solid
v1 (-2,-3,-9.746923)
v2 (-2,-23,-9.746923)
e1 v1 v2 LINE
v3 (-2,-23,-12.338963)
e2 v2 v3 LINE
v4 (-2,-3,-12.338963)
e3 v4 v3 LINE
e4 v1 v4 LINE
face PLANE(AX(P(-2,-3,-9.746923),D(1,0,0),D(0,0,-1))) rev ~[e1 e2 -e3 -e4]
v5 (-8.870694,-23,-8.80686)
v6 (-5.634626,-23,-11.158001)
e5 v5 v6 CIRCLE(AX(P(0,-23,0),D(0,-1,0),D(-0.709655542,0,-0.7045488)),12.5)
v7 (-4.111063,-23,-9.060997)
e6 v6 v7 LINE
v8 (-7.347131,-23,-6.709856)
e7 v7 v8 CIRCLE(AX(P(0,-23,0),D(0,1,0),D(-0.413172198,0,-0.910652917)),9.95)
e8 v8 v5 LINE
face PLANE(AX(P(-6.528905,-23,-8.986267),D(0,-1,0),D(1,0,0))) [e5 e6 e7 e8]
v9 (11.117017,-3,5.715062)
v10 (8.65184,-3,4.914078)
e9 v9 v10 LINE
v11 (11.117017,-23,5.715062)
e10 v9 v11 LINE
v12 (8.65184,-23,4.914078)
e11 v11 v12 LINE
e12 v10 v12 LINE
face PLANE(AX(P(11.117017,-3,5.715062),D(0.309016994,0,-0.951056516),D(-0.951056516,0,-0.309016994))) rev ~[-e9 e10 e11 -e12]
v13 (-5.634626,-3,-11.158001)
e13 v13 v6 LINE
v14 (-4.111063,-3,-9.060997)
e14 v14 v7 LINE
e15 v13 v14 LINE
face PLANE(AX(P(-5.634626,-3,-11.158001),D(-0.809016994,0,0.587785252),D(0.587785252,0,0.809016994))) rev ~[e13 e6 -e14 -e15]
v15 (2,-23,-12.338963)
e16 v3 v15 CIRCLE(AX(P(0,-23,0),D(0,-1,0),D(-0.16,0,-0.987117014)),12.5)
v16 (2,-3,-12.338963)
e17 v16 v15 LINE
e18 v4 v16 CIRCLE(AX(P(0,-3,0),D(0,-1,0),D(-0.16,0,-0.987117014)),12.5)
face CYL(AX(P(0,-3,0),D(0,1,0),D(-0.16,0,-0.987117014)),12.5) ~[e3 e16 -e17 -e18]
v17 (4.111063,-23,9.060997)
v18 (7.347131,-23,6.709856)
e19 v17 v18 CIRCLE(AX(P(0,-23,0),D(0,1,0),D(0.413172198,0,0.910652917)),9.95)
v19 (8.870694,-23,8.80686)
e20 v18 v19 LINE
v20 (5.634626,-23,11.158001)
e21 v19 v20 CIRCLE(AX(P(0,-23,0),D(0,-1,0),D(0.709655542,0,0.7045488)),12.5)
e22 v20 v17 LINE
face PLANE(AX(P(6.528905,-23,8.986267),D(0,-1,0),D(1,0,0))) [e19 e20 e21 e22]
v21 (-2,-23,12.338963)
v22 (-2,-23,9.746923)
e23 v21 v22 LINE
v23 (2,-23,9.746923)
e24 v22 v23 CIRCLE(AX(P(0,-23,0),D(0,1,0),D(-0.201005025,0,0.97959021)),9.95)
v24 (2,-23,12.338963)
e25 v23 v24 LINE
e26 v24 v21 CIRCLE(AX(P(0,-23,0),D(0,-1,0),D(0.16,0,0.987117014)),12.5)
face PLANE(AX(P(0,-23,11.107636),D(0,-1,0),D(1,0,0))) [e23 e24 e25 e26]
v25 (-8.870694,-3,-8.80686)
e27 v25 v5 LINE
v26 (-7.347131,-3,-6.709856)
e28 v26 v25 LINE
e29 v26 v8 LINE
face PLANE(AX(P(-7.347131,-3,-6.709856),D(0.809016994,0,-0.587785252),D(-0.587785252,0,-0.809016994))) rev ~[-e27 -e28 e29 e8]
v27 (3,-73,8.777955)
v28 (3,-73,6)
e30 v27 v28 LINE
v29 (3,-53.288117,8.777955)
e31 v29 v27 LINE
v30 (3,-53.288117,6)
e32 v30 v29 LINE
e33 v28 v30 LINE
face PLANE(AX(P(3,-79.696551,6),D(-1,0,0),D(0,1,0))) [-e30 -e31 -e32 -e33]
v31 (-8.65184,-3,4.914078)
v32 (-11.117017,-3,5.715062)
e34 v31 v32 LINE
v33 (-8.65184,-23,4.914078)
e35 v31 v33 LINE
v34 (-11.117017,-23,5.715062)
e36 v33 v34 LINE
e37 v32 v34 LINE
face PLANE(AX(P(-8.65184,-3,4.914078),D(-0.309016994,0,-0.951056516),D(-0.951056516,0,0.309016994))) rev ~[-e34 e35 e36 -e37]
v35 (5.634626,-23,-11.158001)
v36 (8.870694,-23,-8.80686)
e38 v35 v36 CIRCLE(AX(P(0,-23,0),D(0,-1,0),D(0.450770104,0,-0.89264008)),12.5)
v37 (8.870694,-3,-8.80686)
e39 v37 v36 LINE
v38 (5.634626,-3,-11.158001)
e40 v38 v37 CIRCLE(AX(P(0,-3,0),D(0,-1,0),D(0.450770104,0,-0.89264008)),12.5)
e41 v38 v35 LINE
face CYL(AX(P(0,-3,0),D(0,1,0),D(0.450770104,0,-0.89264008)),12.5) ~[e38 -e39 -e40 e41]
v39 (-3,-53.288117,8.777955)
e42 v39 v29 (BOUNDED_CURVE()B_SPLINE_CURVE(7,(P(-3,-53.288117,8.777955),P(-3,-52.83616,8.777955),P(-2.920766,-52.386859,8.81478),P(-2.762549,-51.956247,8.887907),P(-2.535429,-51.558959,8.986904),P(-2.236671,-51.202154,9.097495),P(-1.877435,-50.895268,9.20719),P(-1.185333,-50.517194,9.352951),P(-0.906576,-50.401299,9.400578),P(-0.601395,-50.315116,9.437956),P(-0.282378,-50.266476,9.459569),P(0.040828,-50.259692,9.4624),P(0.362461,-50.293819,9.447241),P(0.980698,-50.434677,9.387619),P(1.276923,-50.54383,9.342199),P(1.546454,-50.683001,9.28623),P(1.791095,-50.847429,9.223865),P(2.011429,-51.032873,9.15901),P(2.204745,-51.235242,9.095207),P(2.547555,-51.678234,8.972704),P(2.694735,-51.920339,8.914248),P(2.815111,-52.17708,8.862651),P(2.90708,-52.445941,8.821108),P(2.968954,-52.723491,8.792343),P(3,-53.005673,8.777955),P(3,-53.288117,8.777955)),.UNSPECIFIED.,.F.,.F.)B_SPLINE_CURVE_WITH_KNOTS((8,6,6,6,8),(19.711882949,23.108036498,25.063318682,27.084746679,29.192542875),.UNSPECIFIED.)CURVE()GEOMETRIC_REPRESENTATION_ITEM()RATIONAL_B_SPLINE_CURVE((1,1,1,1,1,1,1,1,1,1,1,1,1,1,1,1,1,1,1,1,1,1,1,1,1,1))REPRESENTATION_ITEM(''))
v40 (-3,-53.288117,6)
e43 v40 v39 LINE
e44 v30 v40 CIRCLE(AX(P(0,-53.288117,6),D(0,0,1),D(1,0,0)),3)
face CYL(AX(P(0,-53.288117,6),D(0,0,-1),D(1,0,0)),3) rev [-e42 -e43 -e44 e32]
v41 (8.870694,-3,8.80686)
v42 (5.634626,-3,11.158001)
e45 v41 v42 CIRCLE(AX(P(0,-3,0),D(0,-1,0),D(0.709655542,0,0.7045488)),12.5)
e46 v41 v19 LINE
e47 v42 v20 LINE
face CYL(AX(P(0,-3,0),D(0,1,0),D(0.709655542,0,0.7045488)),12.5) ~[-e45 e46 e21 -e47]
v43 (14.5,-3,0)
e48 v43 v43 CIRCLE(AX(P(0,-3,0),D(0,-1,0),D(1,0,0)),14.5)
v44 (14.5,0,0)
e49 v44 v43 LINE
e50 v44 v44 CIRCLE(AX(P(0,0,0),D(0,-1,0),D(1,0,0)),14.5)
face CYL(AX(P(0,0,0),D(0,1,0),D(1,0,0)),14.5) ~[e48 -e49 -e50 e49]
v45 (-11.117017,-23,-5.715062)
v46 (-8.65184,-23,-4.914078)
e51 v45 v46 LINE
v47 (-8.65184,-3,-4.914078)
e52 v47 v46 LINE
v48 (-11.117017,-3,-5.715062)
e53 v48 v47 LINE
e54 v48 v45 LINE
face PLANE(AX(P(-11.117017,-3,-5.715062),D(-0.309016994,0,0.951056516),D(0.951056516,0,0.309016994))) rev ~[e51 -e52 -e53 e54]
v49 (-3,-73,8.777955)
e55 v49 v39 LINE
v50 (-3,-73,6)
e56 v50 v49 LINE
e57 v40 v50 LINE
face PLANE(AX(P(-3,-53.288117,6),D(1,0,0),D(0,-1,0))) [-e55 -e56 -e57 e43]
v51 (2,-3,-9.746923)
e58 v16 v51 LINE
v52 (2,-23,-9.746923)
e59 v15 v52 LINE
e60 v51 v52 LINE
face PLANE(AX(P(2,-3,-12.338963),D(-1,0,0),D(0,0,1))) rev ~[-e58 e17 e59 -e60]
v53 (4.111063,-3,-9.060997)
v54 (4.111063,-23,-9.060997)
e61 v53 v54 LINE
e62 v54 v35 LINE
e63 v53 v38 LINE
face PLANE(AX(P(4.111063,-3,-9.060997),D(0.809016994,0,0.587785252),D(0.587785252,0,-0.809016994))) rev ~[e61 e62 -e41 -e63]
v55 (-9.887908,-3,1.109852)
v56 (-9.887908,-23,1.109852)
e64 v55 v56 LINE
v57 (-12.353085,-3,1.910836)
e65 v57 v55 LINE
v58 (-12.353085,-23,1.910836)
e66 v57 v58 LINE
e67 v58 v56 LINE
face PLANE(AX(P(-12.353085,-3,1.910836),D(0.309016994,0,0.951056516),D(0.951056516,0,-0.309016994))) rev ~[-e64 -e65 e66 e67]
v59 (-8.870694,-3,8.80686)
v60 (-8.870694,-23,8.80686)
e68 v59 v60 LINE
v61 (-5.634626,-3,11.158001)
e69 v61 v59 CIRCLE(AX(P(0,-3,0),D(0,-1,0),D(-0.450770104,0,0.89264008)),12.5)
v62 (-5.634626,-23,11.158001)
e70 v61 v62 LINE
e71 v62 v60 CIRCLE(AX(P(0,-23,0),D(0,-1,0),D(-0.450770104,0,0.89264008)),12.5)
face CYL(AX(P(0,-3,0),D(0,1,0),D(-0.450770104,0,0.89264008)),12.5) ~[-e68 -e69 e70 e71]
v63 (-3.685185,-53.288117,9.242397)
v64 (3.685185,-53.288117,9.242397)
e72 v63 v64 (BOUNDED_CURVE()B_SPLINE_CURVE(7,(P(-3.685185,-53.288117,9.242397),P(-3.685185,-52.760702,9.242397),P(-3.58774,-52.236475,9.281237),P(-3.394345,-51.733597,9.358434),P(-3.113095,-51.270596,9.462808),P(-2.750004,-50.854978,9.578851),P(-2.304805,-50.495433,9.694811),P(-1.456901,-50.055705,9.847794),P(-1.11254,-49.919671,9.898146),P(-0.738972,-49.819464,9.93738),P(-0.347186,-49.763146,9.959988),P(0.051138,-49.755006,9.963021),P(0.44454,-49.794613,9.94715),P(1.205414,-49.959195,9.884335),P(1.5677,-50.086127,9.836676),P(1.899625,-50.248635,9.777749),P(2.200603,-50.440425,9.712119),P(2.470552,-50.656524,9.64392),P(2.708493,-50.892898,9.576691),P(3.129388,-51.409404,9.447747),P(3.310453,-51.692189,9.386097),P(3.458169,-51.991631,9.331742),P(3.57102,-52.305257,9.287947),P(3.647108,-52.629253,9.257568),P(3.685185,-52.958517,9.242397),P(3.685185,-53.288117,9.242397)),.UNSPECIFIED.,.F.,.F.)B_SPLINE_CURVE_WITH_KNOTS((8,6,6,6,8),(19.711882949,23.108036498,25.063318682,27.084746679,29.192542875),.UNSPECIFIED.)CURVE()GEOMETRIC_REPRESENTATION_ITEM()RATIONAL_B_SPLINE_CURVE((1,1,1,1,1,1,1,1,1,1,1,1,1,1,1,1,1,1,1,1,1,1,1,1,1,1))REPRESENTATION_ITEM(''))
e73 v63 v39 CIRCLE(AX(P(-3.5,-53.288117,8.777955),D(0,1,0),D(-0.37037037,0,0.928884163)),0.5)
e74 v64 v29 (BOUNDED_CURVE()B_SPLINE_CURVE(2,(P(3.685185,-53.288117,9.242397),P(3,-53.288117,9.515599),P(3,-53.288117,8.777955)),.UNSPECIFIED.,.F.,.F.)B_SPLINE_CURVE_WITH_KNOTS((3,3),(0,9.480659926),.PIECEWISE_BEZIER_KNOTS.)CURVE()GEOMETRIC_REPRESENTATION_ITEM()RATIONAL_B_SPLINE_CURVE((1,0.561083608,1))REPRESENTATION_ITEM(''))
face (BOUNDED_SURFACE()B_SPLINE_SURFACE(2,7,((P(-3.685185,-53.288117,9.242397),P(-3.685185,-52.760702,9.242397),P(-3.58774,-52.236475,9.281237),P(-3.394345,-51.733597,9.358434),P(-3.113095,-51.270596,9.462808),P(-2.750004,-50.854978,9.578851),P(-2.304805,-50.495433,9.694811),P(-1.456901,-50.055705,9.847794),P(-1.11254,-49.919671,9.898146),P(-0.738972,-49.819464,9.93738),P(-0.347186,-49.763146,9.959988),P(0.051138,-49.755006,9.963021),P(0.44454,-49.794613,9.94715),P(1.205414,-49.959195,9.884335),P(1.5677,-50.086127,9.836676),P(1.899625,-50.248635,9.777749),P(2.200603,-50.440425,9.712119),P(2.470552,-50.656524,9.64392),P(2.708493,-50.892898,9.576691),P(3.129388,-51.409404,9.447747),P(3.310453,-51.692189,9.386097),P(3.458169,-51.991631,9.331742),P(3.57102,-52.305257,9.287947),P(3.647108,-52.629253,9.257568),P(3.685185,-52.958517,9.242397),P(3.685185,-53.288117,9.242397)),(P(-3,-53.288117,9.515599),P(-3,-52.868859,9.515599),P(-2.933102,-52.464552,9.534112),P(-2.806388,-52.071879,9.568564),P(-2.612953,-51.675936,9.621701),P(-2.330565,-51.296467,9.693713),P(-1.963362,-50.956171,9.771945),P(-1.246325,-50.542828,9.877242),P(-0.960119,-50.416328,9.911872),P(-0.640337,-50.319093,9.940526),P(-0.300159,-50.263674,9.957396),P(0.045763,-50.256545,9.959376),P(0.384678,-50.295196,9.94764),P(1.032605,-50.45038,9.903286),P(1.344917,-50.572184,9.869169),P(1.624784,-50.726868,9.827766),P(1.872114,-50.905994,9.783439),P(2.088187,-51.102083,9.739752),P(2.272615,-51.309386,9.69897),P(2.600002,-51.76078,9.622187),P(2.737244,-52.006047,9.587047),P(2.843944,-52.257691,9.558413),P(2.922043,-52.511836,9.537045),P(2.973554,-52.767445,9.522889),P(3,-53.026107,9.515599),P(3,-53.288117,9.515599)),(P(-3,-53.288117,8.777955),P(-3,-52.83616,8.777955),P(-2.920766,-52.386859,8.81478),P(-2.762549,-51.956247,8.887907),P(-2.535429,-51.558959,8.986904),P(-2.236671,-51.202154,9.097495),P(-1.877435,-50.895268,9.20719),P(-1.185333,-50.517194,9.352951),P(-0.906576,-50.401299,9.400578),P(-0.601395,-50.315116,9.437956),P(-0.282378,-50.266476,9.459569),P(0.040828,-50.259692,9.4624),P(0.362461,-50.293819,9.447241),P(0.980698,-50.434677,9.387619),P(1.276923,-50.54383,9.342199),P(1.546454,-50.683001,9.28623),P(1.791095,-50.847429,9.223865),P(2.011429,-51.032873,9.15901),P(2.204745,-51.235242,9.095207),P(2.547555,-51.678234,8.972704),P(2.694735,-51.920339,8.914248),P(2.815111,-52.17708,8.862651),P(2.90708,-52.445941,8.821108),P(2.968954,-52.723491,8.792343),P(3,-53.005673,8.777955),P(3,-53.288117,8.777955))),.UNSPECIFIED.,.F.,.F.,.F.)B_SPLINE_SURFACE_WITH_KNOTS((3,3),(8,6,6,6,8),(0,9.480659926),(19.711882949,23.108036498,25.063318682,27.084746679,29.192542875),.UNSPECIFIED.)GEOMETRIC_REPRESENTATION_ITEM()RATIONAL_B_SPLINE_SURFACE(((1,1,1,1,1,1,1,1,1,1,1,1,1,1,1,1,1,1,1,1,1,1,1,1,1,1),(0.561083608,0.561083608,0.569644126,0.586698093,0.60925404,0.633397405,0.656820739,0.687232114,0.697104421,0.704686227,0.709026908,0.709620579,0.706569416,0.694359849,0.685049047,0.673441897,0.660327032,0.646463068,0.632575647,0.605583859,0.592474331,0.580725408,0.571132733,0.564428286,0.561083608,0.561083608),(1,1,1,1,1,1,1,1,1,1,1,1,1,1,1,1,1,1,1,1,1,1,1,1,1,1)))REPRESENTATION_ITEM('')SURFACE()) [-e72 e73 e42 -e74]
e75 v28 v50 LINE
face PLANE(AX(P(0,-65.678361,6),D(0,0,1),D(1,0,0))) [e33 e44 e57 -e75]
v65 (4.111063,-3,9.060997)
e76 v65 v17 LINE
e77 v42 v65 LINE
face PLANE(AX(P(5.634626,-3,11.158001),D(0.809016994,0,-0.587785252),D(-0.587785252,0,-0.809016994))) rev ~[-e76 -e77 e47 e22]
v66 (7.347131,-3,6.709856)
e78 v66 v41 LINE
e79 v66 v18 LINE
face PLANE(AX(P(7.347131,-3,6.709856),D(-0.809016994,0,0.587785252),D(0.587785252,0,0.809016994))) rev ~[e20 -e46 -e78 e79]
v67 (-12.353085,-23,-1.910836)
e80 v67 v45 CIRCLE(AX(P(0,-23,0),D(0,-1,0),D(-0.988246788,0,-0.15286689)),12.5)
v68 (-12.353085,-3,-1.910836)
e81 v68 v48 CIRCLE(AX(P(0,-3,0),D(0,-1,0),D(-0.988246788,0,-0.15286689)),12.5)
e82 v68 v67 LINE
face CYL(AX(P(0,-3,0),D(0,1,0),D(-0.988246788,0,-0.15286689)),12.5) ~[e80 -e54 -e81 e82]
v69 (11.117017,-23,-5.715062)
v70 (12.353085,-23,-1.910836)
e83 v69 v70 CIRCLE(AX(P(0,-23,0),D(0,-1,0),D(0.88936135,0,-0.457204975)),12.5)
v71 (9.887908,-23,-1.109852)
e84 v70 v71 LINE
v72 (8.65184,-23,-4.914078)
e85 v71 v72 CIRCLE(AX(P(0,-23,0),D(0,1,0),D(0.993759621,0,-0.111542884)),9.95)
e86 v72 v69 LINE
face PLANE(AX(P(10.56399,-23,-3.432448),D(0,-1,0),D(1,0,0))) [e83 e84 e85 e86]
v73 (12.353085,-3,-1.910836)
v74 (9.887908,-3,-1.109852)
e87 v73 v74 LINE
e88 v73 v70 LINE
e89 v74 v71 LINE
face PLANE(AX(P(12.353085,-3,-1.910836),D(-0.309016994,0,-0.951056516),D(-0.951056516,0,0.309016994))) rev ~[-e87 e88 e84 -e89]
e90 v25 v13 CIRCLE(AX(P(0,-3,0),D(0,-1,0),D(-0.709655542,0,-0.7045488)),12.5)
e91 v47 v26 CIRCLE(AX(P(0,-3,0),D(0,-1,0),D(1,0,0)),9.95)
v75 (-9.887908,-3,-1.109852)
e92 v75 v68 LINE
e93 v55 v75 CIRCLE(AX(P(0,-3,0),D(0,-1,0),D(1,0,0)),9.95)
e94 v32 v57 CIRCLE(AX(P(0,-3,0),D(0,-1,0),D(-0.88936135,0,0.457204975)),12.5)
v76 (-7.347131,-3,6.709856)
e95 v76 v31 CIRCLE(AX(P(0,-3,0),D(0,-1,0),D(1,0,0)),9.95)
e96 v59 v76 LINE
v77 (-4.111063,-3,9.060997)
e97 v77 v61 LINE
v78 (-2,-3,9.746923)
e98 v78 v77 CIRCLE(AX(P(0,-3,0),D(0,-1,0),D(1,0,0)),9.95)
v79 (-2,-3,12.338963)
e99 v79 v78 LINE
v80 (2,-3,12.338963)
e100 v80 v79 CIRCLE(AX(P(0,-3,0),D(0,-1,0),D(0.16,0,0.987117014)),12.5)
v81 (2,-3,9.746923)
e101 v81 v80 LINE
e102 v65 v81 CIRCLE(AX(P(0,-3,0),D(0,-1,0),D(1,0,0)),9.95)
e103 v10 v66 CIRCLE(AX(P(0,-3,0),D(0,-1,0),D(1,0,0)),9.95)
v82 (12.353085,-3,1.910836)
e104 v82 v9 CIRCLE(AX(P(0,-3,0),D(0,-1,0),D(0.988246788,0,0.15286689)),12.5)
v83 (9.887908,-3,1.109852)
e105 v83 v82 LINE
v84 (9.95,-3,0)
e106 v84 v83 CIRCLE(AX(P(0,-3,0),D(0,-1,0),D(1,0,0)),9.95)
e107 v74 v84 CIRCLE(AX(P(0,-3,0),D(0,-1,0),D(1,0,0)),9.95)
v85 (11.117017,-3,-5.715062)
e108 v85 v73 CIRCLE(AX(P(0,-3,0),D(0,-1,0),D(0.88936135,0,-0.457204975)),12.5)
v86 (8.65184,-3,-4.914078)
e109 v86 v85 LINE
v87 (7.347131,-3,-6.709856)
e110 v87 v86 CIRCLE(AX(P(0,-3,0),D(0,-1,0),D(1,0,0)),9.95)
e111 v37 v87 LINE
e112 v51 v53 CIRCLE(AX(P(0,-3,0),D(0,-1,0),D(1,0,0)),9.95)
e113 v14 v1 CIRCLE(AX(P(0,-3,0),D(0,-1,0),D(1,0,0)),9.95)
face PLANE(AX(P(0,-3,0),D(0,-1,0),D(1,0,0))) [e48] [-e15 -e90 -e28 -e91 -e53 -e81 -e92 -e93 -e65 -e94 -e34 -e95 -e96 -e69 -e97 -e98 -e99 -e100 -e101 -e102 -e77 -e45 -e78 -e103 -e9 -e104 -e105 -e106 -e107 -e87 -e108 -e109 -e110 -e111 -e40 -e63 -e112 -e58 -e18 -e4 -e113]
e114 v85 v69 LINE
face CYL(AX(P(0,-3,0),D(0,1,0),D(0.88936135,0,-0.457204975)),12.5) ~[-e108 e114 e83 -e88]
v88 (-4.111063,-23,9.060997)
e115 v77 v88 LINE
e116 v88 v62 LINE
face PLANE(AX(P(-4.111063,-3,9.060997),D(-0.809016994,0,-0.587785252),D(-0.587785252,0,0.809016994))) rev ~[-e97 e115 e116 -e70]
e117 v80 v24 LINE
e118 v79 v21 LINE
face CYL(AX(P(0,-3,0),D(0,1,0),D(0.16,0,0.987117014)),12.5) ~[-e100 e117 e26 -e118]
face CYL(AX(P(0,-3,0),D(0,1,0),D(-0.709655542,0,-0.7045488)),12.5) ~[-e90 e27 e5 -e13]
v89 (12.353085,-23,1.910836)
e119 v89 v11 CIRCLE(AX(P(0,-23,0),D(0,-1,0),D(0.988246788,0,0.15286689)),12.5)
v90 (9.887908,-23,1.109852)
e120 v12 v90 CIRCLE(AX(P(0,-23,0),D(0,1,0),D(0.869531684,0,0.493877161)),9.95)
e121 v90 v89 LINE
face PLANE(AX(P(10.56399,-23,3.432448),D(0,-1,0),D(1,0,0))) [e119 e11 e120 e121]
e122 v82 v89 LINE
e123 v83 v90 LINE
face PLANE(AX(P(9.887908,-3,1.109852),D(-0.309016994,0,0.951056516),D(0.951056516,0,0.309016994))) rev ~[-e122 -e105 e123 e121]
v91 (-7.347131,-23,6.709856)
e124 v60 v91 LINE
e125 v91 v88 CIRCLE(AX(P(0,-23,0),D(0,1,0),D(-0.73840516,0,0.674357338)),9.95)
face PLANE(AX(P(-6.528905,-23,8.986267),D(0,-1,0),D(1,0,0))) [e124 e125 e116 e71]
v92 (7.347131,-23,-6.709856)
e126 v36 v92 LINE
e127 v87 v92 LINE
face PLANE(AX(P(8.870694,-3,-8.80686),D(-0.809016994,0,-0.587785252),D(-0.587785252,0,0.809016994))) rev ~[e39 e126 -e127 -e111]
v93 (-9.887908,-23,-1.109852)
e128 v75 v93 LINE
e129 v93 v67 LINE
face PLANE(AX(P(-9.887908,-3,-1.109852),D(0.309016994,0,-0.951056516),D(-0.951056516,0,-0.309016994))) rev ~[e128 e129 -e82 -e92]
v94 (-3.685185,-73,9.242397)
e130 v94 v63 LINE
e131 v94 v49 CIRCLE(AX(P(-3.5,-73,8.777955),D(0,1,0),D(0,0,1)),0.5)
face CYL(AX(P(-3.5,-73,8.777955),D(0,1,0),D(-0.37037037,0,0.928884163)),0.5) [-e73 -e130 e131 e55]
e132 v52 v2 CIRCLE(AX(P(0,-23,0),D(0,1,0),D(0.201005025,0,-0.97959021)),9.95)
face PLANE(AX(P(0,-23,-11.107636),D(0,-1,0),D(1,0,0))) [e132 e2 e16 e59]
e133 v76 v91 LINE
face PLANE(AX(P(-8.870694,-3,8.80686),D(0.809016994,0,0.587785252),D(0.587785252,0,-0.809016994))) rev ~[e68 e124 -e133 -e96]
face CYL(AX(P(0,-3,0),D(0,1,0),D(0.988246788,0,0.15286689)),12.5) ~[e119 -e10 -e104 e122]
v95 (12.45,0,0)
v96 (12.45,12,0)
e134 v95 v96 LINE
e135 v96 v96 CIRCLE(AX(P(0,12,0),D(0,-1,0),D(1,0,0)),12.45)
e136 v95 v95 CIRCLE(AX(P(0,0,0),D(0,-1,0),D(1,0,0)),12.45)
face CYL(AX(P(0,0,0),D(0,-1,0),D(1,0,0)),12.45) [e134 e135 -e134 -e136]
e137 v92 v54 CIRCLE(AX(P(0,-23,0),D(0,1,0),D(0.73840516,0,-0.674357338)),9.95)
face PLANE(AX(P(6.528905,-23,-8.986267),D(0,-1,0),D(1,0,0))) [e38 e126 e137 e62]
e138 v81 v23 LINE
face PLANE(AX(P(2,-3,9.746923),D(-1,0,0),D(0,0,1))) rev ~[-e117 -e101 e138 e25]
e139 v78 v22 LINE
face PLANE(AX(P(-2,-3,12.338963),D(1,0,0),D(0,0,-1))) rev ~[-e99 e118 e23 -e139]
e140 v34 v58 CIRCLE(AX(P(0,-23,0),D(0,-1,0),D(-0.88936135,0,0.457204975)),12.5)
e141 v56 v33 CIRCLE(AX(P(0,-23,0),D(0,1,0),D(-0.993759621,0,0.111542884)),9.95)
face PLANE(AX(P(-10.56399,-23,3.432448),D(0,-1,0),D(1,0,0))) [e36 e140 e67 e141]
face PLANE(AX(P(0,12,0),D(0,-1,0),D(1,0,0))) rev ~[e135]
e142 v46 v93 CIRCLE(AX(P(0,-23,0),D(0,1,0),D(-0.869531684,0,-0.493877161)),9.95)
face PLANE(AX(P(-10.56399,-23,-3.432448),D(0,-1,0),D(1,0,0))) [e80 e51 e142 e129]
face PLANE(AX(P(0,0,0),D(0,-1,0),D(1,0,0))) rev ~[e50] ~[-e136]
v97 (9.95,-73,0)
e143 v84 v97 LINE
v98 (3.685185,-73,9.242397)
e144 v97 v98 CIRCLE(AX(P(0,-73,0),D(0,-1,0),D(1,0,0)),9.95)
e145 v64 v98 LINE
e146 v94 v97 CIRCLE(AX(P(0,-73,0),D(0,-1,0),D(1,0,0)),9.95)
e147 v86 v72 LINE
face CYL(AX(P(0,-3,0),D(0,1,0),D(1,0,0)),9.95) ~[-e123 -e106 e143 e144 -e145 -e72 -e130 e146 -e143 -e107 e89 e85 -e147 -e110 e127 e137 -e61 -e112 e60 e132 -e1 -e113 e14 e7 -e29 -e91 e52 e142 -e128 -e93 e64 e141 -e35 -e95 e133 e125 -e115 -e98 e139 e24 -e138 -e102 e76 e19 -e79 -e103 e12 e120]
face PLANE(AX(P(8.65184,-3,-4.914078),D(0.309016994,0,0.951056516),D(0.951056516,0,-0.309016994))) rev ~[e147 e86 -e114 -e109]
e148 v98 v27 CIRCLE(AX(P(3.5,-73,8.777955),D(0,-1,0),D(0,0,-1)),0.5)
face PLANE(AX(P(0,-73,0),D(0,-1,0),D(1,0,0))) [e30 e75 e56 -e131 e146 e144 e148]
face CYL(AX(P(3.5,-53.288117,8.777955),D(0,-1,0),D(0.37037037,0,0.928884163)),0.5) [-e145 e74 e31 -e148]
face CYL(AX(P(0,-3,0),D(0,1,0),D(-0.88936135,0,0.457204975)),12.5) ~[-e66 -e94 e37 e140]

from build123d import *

# Parameters (mm, degrees)
F0_R      = 12.45
F1_DEPTH  = 12
F2_R      = 14.5
F3_DEPTH  = 3
F4_R      = 9.95
F5_DEPTH  = 70
F7_DEPTH  = 20
F10_DEPTH = 25
F11_R     = 0.5


with BuildPart() as f1:
    # F0 (on Front) → F1 (new body)
    with BuildSketch(Plane.XZ):
        Circle(F0_R)
    extrude(amount=-F1_DEPTH)

    # F2 (on Front) → F3 (join)
    with BuildSketch(Plane.XZ):
        Circle(F2_R)
    extrude(amount=F3_DEPTH)

    # F4 (on face) → F5 (join)
    with BuildSketch(Plane.XZ.offset(3)):
        Circle(F4_R)
    extrude(amount=F5_DEPTH)

    # F6 (on face) → F7 (join)
    with BuildSketch(Plane.XZ.offset(3)):
        with BuildLine():
            Line((2, 9.7469225913), (2, 12.3389626793))
            ThreePointArc((2, 12.3389626793), (0, 12.5), (-2, 12.3389626793))
            Line((-2, 12.3389626793), (-2, 9.7469225913))
            ThreePointArc((-2, 9.7469225913), (0, 9.95), (2, 9.7469225913))
        make_face()
        with BuildLine():
            Line((5.6346263027, 11.1580010051), (4.1110633656, 9.0609965238))
            ThreePointArc((4.1110633656, 9.0609965238), (5.8484632603, 8.049719094), (7.3471313431, 6.7098555146))
            Line((7.3471313431, 6.7098555146), (8.8706942802, 8.8068599959))
            ThreePointArc((8.8706942802, 8.8068599959), (7.3473156537, 10.1127124297), (5.6346263027, 11.1580010051))
        make_face()
        with BuildLine():
            Line((11.1170168717, 5.7150621934), (8.6518402555, 4.9140777561))
            ThreePointArc((8.6518402555, 4.9140777561), (9.4630123371, 3.074719094), (9.887908233, 1.109851691))
            Line((9.887908233, 1.109851691), (12.3530848492, 1.9108361283))
            ThreePointArc((12.3530848492, 1.9108361283), (11.8882064537, 3.8627124297), (11.1170168717, 5.7150621934))
        make_face()
        with BuildLine():
            Line((12.3530848492, -1.9108361283), (9.887908233, -1.109851691))
            ThreePointArc((9.887908233, -1.109851691), (9.4630123371, -3.074719094), (8.6518402555, -4.9140777561))
            Line((8.6518402555, -4.9140777561), (11.1170168717, -5.7150621934))
            ThreePointArc((11.1170168717, -5.7150621934), (11.8882064537, -3.8627124297), (12.3530848492, -1.9108361283))
        make_face()
        with BuildLine():
            Line((8.8706942802, -8.8068599959), (7.3471313431, -6.7098555146))
            ThreePointArc((7.3471313431, -6.7098555146), (5.8484632603, -8.049719094), (4.1110633656, -9.0609965238))
            Line((4.1110633656, -9.0609965238), (5.6346263027, -11.1580010051))
            ThreePointArc((5.6346263027, -11.1580010051), (7.3473156537, -10.1127124297), (8.8706942802, -8.8068599959))
        make_face()
        with BuildLine():
            ThreePointArc((2, -9.7469225913), (0, -9.95), (-2, -9.7469225913))
            Line((-2, -9.7469225913), (-2, -12.3389626793))
            ThreePointArc((-2, -12.3389626793), (0, -12.5), (2, -12.3389626793))
            Line((2, -12.3389626793), (2, -9.7469225913))
        make_face()
        with BuildLine():
            ThreePointArc((-4.1110633656, -9.0609965238), (-5.8484632603, -8.049719094), (-7.3471313431, -6.7098555146))
            Line((-7.3471313431, -6.7098555146), (-8.8706942802, -8.8068599959))
            ThreePointArc((-8.8706942802, -8.8068599959), (-7.3473156537, -10.1127124297), (-5.6346263027, -11.1580010051))
            Line((-5.6346263027, -11.1580010051), (-4.1110633656, -9.0609965238))
        make_face()
        with BuildLine():
            ThreePointArc((-8.6518402555, -4.9140777561), (-9.4630123371, -3.074719094), (-9.887908233, -1.109851691))
            Line((-9.887908233, -1.109851691), (-12.3530848492, -1.9108361283))
            ThreePointArc((-12.3530848492, -1.9108361283), (-11.8882064537, -3.8627124297), (-11.1170168717, -5.7150621934))
            Line((-11.1170168717, -5.7150621934), (-8.6518402555, -4.9140777561))
        make_face()
        with BuildLine():
            ThreePointArc((-9.887908233, 1.109851691), (-9.4630123371, 3.074719094), (-8.6518402555, 4.9140777561))
            Line((-8.6518402555, 4.9140777561), (-11.1170168717, 5.7150621934))
            ThreePointArc((-11.1170168717, 5.7150621934), (-11.8882064537, 3.8627124297), (-12.3530848492, 1.9108361283))
            Line((-12.3530848492, 1.9108361283), (-9.887908233, 1.109851691))
        make_face()
        with BuildLine():
            ThreePointArc((-7.3471313431, 6.7098555146), (-5.8484632603, 8.049719094), (-4.1110633656, 9.0609965238))
            Line((-4.1110633656, 9.0609965238), (-5.6346263027, 11.1580010051))
            ThreePointArc((-5.6346263027, 11.1580010051), (-7.3473156537, 10.1127124297), (-8.8706942802, 8.8068599959))
            Line((-8.8706942802, 8.8068599959), (-7.3471313431, 6.7098555146))
        make_face()
    extrude(amount=F7_DEPTH)

    # F9 (on offset) → F10 (cut)
    with BuildSketch(Plane.XY.offset(6)):
        with BuildLine():
            Line((-3, -53.2881170511), (-3, -79.6965509653))
            Line((-3, -79.6965509653), (3, -79.6965509653))
            Line((3, -79.6965509653), (3, -53.2881170511))
            ThreePointArc((3, -53.2881170511), (0, -50.2881170511), (-3, -53.2881170511))
        make_face()
    extrude(amount=F10_DEPTH, mode=Mode.SUBTRACT)

    # F11
    f11_edges = [f1.edges().sort_by_distance(p)[0] for p in [
        (-3, -63.144059, 9.486965),
        (3, -63.144059, 9.486965),
        (0, -50.288117, 9.95),
    ]]
    fillet(f11_edges, radius=F11_R)


solid = f1.part
